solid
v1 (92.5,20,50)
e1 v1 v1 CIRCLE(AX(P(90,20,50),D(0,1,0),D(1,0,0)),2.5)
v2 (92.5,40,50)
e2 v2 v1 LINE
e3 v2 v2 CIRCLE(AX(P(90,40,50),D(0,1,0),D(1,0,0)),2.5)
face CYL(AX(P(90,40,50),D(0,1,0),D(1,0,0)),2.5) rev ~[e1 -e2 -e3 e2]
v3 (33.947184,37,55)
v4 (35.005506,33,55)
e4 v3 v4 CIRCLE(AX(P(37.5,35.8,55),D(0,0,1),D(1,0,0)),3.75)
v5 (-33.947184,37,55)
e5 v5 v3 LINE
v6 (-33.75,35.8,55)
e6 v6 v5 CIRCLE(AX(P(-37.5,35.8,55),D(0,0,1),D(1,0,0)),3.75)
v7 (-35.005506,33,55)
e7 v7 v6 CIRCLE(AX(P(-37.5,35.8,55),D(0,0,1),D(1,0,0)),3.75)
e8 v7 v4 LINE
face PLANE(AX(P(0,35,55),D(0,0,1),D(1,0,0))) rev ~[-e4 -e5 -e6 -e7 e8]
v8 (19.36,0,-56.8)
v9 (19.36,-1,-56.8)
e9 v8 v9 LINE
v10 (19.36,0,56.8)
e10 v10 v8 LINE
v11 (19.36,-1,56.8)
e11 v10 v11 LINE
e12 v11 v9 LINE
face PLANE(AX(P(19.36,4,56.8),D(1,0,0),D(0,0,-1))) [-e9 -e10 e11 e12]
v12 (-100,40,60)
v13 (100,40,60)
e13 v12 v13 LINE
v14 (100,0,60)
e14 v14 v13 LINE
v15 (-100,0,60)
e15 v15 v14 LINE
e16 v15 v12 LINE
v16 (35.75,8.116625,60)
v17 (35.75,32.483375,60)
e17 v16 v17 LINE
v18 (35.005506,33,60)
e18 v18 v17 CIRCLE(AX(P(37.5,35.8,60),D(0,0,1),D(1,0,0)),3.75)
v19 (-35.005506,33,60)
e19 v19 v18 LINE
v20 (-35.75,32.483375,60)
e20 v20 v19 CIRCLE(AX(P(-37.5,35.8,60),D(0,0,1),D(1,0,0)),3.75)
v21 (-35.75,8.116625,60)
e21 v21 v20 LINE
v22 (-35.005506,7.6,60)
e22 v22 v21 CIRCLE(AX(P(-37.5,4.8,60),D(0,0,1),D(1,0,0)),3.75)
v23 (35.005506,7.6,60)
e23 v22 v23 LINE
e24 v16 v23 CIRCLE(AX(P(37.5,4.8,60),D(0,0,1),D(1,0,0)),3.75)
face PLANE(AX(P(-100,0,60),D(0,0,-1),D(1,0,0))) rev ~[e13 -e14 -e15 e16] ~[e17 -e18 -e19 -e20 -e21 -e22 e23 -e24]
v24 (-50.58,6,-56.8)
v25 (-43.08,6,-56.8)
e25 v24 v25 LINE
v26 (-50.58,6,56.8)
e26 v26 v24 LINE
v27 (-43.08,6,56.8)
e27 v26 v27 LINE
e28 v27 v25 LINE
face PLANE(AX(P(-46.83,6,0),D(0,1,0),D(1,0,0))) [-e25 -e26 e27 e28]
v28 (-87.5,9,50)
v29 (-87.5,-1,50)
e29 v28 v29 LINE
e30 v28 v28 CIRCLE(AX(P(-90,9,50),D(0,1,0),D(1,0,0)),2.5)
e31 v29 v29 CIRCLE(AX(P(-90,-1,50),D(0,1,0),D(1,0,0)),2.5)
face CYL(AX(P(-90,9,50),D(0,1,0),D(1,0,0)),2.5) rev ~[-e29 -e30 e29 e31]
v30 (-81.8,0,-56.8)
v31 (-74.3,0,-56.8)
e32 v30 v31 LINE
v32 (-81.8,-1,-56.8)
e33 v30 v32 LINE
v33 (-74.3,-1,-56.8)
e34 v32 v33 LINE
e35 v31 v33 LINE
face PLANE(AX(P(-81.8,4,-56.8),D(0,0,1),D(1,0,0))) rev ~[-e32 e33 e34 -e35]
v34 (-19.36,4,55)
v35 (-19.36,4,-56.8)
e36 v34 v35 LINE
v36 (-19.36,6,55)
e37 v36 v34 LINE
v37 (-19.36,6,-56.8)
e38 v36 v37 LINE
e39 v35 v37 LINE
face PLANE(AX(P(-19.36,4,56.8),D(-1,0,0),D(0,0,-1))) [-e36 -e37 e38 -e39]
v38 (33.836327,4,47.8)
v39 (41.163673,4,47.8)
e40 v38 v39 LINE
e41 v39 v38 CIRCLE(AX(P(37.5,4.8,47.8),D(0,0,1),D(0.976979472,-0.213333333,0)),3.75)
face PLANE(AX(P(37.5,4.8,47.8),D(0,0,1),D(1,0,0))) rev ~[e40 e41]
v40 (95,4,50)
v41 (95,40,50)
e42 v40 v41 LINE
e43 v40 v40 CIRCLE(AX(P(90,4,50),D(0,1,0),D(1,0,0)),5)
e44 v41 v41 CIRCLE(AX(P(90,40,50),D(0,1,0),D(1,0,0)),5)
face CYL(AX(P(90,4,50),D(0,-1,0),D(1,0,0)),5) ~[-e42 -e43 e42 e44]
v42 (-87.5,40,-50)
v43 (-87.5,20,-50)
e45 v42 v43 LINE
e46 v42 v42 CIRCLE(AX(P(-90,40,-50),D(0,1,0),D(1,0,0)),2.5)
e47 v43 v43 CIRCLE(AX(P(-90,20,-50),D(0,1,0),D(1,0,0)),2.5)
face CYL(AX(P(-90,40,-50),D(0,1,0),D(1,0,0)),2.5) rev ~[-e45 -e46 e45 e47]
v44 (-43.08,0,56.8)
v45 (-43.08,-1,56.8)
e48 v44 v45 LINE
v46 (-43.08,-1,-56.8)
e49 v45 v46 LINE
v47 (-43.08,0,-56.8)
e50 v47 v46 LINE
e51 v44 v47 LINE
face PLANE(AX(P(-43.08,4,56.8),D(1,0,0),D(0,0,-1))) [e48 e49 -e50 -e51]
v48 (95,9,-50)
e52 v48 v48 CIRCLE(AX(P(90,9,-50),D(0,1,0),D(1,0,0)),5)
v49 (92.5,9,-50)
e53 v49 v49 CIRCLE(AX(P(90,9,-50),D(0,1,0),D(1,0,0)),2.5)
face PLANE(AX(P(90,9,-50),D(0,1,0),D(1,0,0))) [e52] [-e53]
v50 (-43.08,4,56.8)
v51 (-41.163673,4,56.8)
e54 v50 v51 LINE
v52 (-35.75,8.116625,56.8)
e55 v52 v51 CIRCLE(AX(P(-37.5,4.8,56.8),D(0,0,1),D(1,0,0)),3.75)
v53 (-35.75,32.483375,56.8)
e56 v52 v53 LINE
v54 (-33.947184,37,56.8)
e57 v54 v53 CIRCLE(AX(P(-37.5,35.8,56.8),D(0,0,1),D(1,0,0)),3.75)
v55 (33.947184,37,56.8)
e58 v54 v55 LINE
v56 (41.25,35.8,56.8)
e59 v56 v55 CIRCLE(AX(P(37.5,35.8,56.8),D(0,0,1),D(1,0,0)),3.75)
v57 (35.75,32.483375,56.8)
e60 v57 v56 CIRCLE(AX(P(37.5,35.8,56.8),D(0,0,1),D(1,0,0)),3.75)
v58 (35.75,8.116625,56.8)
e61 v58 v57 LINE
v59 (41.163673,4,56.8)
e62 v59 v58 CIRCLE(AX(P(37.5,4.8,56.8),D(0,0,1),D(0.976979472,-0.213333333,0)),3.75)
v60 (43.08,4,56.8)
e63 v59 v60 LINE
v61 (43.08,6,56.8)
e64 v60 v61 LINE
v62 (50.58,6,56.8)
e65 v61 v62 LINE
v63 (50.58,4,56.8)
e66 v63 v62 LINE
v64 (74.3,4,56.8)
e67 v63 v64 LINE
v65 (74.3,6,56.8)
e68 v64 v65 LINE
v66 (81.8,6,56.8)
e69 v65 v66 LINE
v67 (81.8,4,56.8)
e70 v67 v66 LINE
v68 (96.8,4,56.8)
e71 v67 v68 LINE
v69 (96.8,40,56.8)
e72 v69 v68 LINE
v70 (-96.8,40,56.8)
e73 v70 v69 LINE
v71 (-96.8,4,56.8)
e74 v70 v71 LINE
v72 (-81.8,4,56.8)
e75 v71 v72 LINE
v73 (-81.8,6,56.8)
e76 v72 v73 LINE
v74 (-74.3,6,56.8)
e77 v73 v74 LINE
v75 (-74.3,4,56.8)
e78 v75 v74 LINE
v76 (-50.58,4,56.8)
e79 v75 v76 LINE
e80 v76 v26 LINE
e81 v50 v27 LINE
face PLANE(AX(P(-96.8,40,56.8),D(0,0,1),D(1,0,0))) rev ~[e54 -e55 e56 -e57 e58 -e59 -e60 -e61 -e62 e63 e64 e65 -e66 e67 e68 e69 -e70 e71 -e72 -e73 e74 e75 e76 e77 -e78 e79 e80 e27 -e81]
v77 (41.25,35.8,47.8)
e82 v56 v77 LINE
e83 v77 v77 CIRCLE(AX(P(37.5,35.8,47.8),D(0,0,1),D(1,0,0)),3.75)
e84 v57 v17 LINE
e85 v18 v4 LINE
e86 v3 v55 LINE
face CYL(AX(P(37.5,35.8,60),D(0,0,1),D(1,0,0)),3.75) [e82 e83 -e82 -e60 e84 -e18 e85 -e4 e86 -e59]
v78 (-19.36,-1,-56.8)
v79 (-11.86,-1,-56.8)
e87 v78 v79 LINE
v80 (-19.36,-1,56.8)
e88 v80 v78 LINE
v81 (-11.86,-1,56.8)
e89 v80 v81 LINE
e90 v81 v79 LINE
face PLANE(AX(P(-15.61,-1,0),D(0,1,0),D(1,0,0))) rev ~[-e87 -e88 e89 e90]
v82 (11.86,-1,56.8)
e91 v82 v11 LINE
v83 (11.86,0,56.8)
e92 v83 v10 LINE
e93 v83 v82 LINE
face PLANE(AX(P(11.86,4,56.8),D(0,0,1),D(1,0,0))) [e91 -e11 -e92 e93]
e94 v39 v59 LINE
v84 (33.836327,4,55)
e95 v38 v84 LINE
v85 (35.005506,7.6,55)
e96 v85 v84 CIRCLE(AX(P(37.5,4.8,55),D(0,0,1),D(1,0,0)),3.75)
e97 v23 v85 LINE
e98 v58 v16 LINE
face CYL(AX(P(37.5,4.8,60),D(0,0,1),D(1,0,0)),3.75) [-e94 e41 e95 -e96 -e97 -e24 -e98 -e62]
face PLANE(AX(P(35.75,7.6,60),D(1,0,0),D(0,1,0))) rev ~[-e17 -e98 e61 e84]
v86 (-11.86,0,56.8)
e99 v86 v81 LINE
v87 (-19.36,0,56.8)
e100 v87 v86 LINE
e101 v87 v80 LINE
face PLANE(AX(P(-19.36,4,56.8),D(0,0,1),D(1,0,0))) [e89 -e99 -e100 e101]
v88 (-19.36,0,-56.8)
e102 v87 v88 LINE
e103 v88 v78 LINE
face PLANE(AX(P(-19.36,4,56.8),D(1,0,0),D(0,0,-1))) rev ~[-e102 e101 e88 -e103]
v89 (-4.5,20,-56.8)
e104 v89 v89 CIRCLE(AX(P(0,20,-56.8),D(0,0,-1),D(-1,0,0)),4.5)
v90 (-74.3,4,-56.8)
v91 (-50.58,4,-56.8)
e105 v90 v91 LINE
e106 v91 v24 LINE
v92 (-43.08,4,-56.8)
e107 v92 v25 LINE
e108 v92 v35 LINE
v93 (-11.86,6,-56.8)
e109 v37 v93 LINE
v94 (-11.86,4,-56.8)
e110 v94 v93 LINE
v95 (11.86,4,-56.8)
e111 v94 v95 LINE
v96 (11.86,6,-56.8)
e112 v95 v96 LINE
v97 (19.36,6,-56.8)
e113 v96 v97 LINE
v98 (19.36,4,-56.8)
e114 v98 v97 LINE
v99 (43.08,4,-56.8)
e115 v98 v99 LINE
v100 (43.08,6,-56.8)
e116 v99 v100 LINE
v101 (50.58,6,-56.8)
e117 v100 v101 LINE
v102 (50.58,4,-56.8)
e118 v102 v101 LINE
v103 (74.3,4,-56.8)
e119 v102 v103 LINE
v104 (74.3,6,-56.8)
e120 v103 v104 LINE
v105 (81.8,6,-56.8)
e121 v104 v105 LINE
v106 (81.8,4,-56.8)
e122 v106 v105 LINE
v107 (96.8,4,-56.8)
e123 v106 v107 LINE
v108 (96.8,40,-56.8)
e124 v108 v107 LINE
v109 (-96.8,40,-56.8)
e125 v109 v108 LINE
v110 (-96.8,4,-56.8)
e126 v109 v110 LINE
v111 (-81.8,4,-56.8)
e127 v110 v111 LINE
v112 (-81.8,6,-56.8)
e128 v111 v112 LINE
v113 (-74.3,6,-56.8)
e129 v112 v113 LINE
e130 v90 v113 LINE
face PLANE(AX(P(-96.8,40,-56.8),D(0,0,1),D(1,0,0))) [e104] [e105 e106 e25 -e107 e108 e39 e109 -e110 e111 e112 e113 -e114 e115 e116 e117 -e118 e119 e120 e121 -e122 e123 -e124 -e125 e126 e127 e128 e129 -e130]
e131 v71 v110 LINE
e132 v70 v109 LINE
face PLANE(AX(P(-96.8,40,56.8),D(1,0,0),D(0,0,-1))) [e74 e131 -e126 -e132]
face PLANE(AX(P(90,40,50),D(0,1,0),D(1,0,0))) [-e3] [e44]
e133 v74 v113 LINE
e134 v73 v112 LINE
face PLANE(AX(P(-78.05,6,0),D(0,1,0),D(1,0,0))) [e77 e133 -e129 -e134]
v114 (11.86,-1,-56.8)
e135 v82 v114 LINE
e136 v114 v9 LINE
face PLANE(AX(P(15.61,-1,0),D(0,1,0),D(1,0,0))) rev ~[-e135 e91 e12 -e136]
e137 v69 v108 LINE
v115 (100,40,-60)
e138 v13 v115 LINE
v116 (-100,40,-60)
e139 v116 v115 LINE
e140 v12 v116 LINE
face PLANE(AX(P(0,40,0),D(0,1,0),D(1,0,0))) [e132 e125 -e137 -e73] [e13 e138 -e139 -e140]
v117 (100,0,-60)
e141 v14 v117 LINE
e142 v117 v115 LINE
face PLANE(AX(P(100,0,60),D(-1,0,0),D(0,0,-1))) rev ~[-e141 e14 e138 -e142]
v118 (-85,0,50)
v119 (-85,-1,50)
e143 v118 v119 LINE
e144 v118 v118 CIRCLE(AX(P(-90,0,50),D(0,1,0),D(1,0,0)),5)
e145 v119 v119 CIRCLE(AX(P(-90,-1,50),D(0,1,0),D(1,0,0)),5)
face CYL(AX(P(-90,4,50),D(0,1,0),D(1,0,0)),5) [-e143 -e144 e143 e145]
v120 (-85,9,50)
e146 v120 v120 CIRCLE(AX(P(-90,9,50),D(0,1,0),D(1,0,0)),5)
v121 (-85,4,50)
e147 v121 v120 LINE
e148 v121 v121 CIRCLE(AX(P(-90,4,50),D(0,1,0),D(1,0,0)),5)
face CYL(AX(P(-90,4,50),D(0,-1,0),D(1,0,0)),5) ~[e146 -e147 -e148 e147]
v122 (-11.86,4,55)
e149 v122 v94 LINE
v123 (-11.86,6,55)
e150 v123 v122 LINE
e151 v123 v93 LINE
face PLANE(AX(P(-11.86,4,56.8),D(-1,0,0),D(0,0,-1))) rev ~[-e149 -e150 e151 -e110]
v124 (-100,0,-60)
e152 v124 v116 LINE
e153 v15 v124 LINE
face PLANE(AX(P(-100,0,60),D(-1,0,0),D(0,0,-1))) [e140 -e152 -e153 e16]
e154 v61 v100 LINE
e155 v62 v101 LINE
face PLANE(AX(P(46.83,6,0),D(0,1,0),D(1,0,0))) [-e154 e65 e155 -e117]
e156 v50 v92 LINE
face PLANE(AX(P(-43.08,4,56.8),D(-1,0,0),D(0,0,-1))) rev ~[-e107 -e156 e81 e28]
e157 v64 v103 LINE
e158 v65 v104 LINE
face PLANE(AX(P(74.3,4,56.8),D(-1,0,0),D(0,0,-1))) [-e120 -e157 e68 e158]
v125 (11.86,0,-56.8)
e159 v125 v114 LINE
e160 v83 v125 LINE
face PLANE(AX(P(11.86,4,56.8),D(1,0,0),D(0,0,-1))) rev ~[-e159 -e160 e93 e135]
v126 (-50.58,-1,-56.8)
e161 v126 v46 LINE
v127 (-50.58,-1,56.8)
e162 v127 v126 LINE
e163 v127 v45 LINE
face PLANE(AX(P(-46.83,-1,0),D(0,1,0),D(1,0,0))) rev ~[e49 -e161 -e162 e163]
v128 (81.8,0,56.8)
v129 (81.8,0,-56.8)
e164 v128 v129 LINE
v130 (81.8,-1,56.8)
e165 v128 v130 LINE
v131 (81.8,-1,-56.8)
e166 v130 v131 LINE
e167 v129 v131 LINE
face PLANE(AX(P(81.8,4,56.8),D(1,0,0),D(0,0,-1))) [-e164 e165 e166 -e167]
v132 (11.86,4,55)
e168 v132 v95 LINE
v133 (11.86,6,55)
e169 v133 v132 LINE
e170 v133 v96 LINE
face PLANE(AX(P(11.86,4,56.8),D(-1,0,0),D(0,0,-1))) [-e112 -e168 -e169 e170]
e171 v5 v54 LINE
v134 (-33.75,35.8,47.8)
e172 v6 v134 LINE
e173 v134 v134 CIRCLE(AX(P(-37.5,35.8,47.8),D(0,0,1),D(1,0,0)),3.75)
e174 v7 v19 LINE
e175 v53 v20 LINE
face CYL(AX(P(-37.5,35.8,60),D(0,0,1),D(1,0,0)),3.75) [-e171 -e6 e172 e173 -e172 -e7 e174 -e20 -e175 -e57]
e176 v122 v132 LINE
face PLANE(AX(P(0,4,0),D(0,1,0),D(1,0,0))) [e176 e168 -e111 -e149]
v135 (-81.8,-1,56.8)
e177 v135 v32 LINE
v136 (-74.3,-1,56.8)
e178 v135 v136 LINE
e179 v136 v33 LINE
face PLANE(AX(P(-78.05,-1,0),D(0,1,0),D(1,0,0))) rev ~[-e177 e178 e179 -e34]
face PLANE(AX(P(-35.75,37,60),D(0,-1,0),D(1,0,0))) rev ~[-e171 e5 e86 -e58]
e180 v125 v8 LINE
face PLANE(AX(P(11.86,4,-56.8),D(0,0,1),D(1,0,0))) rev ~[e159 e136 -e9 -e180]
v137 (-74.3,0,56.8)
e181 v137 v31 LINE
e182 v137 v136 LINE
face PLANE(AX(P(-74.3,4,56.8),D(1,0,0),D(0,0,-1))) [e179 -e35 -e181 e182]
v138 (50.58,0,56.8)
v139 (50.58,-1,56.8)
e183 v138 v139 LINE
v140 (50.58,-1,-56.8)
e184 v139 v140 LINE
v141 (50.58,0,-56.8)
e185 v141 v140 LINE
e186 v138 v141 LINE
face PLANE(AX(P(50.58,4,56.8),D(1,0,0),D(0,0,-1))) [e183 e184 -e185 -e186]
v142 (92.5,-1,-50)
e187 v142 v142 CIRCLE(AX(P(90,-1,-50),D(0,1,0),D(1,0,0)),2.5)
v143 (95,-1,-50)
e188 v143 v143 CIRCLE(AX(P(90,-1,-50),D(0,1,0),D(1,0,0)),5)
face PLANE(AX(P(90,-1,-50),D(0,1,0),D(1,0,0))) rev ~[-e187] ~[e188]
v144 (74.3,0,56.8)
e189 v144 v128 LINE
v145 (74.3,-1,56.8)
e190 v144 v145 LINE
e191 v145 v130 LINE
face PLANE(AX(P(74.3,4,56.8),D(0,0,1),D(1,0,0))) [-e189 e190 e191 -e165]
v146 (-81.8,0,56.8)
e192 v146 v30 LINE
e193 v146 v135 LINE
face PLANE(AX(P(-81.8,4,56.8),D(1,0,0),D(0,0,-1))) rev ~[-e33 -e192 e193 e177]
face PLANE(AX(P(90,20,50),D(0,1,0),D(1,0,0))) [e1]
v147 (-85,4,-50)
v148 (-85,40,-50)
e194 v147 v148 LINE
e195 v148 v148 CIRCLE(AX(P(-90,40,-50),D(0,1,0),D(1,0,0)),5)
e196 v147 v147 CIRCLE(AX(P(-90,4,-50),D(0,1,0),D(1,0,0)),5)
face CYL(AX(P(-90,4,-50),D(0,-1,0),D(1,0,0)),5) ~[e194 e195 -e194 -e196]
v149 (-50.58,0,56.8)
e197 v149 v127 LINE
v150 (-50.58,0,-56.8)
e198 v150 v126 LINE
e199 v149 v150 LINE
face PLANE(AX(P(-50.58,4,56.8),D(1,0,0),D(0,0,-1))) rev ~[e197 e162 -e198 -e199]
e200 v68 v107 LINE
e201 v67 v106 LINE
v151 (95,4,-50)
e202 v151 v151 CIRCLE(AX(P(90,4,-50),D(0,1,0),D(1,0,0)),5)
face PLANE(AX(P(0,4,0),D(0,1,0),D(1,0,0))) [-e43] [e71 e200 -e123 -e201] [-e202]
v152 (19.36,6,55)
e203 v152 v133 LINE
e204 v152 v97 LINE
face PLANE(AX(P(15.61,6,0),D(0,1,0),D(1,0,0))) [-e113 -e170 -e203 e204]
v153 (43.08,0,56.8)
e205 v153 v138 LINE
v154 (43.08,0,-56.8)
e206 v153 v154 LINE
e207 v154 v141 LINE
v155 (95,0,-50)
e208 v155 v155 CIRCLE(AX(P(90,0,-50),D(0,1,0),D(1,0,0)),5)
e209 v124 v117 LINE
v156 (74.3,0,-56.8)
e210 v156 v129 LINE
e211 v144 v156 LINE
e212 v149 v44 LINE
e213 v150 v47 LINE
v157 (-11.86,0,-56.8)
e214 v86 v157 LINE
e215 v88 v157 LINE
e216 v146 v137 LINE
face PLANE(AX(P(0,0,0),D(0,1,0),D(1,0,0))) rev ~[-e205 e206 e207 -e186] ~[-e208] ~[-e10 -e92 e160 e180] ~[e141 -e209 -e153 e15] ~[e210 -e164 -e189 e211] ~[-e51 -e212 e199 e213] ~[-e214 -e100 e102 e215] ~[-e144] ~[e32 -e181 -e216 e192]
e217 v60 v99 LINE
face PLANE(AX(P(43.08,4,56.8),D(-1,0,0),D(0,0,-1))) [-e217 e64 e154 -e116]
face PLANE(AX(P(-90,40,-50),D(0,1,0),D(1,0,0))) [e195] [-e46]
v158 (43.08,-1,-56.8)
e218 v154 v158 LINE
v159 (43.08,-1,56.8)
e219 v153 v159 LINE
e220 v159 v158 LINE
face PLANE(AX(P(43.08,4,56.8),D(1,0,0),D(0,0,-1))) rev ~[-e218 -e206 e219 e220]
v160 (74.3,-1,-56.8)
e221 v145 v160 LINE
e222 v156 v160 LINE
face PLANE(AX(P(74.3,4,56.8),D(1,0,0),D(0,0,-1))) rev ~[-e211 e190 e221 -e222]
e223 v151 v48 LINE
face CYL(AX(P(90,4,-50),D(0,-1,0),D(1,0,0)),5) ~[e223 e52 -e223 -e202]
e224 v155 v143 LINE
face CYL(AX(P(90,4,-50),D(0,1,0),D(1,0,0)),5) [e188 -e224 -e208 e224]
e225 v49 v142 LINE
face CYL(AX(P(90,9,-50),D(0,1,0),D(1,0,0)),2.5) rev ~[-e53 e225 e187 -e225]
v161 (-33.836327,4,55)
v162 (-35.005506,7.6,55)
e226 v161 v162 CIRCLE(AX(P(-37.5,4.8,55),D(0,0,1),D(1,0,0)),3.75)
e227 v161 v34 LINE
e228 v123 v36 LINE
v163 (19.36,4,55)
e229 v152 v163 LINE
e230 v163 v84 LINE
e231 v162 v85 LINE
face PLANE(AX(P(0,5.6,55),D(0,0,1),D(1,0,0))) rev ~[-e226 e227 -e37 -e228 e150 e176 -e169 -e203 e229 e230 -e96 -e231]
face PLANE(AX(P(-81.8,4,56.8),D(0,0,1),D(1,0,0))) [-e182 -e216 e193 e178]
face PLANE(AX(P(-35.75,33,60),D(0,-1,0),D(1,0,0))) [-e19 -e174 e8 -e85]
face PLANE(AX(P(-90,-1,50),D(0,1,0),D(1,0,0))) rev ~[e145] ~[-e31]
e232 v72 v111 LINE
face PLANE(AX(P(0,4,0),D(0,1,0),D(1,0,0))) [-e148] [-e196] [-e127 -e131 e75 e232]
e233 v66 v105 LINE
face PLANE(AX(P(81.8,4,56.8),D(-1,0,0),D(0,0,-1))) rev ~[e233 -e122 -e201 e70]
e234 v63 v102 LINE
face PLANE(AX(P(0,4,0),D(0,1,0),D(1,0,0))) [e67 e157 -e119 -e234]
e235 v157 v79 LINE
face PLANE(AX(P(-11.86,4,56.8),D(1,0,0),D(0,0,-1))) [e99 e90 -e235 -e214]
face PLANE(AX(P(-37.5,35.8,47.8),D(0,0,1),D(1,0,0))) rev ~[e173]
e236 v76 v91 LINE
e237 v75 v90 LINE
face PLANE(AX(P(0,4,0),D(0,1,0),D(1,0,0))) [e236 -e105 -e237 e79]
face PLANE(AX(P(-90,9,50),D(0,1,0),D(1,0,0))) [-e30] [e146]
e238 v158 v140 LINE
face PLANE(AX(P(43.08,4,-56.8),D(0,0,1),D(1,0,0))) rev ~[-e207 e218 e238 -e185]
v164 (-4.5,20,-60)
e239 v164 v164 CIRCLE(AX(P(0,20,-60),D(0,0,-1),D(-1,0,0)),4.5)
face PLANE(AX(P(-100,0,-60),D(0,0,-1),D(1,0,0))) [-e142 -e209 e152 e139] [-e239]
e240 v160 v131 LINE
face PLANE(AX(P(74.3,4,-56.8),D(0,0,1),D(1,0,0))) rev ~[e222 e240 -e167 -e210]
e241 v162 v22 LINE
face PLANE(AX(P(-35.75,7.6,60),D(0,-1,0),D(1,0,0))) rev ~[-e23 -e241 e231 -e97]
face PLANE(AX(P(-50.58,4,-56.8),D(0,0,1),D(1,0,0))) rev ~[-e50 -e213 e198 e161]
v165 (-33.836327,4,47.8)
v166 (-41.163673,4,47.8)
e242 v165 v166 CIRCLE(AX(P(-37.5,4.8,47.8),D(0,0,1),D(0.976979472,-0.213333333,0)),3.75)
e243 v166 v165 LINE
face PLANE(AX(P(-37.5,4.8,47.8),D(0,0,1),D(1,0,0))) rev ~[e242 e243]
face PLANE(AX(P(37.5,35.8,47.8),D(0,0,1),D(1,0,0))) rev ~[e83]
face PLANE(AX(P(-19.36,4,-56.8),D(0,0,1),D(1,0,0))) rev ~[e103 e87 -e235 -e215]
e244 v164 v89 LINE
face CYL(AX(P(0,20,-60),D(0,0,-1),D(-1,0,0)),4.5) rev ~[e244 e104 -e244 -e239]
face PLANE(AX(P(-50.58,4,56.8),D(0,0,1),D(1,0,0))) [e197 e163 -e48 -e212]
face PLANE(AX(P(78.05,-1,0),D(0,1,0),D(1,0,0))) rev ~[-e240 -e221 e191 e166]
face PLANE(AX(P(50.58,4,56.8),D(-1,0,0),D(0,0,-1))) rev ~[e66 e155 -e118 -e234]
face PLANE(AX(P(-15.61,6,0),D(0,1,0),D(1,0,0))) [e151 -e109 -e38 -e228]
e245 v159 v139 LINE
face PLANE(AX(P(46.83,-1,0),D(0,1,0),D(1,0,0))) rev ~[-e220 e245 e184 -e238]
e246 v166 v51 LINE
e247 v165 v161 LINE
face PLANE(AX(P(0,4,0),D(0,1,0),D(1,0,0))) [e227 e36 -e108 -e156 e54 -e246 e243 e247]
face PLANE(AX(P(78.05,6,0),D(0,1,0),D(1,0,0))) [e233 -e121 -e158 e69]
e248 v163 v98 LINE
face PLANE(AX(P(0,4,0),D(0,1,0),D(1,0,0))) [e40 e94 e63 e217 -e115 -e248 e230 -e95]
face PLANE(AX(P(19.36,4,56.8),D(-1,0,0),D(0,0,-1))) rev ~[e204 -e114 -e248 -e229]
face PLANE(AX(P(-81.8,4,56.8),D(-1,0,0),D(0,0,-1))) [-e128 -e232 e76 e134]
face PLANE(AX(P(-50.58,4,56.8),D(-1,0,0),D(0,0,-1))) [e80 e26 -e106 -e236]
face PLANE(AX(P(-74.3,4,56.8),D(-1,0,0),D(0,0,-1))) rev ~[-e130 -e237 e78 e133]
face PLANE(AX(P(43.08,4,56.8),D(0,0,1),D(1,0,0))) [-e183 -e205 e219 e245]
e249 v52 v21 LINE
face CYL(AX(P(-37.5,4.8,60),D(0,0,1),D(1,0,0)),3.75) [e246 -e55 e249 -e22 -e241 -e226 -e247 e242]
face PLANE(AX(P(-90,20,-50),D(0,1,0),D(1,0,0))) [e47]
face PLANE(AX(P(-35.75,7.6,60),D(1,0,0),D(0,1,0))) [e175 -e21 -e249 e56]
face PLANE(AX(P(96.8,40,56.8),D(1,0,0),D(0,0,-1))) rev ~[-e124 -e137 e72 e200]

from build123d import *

# Parameters (mm, degrees)
CROQUIS1_W                   = 200
CROQUIS1_H                   = 120
SALIENTE_EXTRUIR1_DEPTH      = 40
CROQUIS2_W                   = 193.6
CROQUIS2_H                   = 113.6
CORTAR_EXTRUIR1_DEPTH        = 36
CROQUIS3_W                   = 71.5
CROQUIS3_H                   = 25.4
CORTAR_EXTRUIR2_DEPTH        = 3.5
CROQUIS4_R                   = 3.75
SALIENTE_EXTRUIR2_DEPTH      = 12.2
CROQUIS5_W                   = 71.5
CROQUIS5_H                   = 4
SALIENTE_EXTRUIR3_DEPTH      = 5
SALIENTE_EXTRUIR4_DEPTH      = 2
SALIENTE_EXTRUIR4_DEPTH_BACK = 5
CROQUIS6_W                   = 7.5
CROQUIS6_H                   = 113.6
CROQUIS7_R                   = 4.5
CORTAR_EXTRUIR3_DEPTH        = 3.3
CROQUIS6_5_R                 = 5
SALIENTE_EXTRUIR5_DEPTH      = 36
SALIENTE_EXTRUIR6_DEPTH      = 5
SALIENTE_EXTRUIR6_DEPTH_BACK = 5
CROQUIS6_6_R                 = 5
CROQUIS8_R                   = 2.5
CORTAR_EXTRUIR4_DEPTH        = 20
CROQUIS9_R                   = 2.5
CORTAR_EXTRUIR5_DEPTH        = 121.66896867


with BuildPart() as part:
    # Croquis1 → Saliente-Extruir1 (new body)
    with BuildSketch(Plane(origin=(0, 0, 0), x_dir=(1, 0, 0), z_dir=(0, 1, 0))):
        Rectangle(CROQUIS1_W, CROQUIS1_H)
    extrude(amount=SALIENTE_EXTRUIR1_DEPTH)

    # Croquis2 → Cortar-Extruir1 (cut)
    with BuildSketch(Plane(origin=(0, 40, 0), x_dir=(1, 0, 0), z_dir=(0, 1, 0))):
        Rectangle(CROQUIS2_W, CROQUIS2_H)
    extrude(amount=-CORTAR_EXTRUIR1_DEPTH, mode=Mode.SUBTRACT)

    # Croquis3 → Cortar-Extruir2 (cut)
    with BuildSketch(Plane.XY.offset(60)):
        with Locations((0, 20.3)):
            Rectangle(CROQUIS3_W, CROQUIS3_H)
    extrude(amount=-CORTAR_EXTRUIR2_DEPTH, mode=Mode.SUBTRACT)

    # Croquis4 → Saliente-Extruir2 (add)
    with BuildSketch(Plane.XY.offset(60)):
        with Locations((-37.5, 35.8)):
            Circle(CROQUIS4_R)
        with Locations((37.5, 35.8)):
            Circle(CROQUIS4_R)
        with Locations((37.5, 4.8)):
            Circle(CROQUIS4_R)
        with Locations((-37.5, 4.8)):
            Circle(CROQUIS4_R)
    extrude(amount=-SALIENTE_EXTRUIR2_DEPTH)

    # Croquis5 → Saliente-Extruir3 (add)
    with BuildSketch(Plane.XY.offset(60)):
        with Locations((0, 5.6)):
            Rectangle(CROQUIS5_W, CROQUIS5_H)
        with Locations((0, 35)):
            Rectangle(CROQUIS5_W, CROQUIS5_H)
    extrude(amount=-SALIENTE_EXTRUIR3_DEPTH)

    # Croquis6 → Saliente-Extruir4 (add, two sides: drawn at the far end of the back side and taken through both)
    with BuildSketch(Plane(origin=(0, 4, 0), x_dir=(1, 0, 0), z_dir=(0, 1, 0)).offset(-SALIENTE_EXTRUIR4_DEPTH_BACK)):
        with Locations((-78.05, 0)):
            Rectangle(CROQUIS6_W, CROQUIS6_H)
        with Locations((-46.83, 0)):
            Rectangle(CROQUIS6_W, CROQUIS6_H)
        with Locations((-15.61, 0)):
            Rectangle(CROQUIS6_W, CROQUIS6_H)
        with Locations((15.61, 0)):
            Rectangle(CROQUIS6_W, CROQUIS6_H)
        with Locations((46.83, 0)):
            Rectangle(CROQUIS6_W, CROQUIS6_H)
        with Locations((78.05, 0)):
            Rectangle(CROQUIS6_W, CROQUIS6_H)
    extrude(amount=SALIENTE_EXTRUIR4_DEPTH + SALIENTE_EXTRUIR4_DEPTH_BACK)

    # Croquis7 → Cortar-Extruir3 (cut)
    with BuildSketch(Plane(origin=(0, 0, -60), x_dir=(-1, 0, 0), z_dir=(0, 0, -1))):
        with Locations((0, 20)):
            Circle(CROQUIS7_R)
    extrude(amount=-CORTAR_EXTRUIR3_DEPTH, mode=Mode.SUBTRACT)

    # Croquis6<5> → Saliente-Extruir5 (add)
    with BuildSketch(Plane(origin=(0, 4, 0), x_dir=(1, 0, 0), z_dir=(0, 1, 0))):
        with Locations((-90, 50)):
            Circle(CROQUIS6_5_R)
        with Locations((90, -50)):
            Circle(CROQUIS6_5_R)
    extrude(amount=SALIENTE_EXTRUIR5_DEPTH)

    # Croquis6<6> → Saliente-Extruir6 (add, two sides: drawn at the far end of the back side and taken through both)
    with BuildSketch(Plane(origin=(0, 4, 0), x_dir=(1, 0, 0), z_dir=(0, 1, 0)).offset(-SALIENTE_EXTRUIR6_DEPTH_BACK)):
        with Locations((90, 50)):
            Circle(CROQUIS6_6_R)
        with Locations((-90, -50)):
            Circle(CROQUIS6_6_R)
    extrude(amount=SALIENTE_EXTRUIR6_DEPTH + SALIENTE_EXTRUIR6_DEPTH_BACK)

    # Croquis8 → Cortar-Extruir4 (cut)
    with BuildSketch(Plane(origin=(0, 40, 0), x_dir=(1, 0, 0), z_dir=(0, 1, 0))):
        with Locations((-90, 50)):
            Circle(CROQUIS8_R)
        with Locations((90, -50)):
            Circle(CROQUIS8_R)
    extrude(amount=-CORTAR_EXTRUIR4_DEPTH, mode=Mode.SUBTRACT)

    # Croquis9 → Cortar-Extruir5 (cut, through all)
    with BuildSketch(Plane(origin=(0, 9, 0), x_dir=(1, 0, 0), z_dir=(0, 1, 0))):
        with Locations((-90, -50)):
            Circle(CROQUIS9_R)
        with Locations((90, 50)):
            Circle(CROQUIS9_R)
    extrude(amount=-CORTAR_EXTRUIR5_DEPTH, mode=Mode.SUBTRACT)


solid = part.part
